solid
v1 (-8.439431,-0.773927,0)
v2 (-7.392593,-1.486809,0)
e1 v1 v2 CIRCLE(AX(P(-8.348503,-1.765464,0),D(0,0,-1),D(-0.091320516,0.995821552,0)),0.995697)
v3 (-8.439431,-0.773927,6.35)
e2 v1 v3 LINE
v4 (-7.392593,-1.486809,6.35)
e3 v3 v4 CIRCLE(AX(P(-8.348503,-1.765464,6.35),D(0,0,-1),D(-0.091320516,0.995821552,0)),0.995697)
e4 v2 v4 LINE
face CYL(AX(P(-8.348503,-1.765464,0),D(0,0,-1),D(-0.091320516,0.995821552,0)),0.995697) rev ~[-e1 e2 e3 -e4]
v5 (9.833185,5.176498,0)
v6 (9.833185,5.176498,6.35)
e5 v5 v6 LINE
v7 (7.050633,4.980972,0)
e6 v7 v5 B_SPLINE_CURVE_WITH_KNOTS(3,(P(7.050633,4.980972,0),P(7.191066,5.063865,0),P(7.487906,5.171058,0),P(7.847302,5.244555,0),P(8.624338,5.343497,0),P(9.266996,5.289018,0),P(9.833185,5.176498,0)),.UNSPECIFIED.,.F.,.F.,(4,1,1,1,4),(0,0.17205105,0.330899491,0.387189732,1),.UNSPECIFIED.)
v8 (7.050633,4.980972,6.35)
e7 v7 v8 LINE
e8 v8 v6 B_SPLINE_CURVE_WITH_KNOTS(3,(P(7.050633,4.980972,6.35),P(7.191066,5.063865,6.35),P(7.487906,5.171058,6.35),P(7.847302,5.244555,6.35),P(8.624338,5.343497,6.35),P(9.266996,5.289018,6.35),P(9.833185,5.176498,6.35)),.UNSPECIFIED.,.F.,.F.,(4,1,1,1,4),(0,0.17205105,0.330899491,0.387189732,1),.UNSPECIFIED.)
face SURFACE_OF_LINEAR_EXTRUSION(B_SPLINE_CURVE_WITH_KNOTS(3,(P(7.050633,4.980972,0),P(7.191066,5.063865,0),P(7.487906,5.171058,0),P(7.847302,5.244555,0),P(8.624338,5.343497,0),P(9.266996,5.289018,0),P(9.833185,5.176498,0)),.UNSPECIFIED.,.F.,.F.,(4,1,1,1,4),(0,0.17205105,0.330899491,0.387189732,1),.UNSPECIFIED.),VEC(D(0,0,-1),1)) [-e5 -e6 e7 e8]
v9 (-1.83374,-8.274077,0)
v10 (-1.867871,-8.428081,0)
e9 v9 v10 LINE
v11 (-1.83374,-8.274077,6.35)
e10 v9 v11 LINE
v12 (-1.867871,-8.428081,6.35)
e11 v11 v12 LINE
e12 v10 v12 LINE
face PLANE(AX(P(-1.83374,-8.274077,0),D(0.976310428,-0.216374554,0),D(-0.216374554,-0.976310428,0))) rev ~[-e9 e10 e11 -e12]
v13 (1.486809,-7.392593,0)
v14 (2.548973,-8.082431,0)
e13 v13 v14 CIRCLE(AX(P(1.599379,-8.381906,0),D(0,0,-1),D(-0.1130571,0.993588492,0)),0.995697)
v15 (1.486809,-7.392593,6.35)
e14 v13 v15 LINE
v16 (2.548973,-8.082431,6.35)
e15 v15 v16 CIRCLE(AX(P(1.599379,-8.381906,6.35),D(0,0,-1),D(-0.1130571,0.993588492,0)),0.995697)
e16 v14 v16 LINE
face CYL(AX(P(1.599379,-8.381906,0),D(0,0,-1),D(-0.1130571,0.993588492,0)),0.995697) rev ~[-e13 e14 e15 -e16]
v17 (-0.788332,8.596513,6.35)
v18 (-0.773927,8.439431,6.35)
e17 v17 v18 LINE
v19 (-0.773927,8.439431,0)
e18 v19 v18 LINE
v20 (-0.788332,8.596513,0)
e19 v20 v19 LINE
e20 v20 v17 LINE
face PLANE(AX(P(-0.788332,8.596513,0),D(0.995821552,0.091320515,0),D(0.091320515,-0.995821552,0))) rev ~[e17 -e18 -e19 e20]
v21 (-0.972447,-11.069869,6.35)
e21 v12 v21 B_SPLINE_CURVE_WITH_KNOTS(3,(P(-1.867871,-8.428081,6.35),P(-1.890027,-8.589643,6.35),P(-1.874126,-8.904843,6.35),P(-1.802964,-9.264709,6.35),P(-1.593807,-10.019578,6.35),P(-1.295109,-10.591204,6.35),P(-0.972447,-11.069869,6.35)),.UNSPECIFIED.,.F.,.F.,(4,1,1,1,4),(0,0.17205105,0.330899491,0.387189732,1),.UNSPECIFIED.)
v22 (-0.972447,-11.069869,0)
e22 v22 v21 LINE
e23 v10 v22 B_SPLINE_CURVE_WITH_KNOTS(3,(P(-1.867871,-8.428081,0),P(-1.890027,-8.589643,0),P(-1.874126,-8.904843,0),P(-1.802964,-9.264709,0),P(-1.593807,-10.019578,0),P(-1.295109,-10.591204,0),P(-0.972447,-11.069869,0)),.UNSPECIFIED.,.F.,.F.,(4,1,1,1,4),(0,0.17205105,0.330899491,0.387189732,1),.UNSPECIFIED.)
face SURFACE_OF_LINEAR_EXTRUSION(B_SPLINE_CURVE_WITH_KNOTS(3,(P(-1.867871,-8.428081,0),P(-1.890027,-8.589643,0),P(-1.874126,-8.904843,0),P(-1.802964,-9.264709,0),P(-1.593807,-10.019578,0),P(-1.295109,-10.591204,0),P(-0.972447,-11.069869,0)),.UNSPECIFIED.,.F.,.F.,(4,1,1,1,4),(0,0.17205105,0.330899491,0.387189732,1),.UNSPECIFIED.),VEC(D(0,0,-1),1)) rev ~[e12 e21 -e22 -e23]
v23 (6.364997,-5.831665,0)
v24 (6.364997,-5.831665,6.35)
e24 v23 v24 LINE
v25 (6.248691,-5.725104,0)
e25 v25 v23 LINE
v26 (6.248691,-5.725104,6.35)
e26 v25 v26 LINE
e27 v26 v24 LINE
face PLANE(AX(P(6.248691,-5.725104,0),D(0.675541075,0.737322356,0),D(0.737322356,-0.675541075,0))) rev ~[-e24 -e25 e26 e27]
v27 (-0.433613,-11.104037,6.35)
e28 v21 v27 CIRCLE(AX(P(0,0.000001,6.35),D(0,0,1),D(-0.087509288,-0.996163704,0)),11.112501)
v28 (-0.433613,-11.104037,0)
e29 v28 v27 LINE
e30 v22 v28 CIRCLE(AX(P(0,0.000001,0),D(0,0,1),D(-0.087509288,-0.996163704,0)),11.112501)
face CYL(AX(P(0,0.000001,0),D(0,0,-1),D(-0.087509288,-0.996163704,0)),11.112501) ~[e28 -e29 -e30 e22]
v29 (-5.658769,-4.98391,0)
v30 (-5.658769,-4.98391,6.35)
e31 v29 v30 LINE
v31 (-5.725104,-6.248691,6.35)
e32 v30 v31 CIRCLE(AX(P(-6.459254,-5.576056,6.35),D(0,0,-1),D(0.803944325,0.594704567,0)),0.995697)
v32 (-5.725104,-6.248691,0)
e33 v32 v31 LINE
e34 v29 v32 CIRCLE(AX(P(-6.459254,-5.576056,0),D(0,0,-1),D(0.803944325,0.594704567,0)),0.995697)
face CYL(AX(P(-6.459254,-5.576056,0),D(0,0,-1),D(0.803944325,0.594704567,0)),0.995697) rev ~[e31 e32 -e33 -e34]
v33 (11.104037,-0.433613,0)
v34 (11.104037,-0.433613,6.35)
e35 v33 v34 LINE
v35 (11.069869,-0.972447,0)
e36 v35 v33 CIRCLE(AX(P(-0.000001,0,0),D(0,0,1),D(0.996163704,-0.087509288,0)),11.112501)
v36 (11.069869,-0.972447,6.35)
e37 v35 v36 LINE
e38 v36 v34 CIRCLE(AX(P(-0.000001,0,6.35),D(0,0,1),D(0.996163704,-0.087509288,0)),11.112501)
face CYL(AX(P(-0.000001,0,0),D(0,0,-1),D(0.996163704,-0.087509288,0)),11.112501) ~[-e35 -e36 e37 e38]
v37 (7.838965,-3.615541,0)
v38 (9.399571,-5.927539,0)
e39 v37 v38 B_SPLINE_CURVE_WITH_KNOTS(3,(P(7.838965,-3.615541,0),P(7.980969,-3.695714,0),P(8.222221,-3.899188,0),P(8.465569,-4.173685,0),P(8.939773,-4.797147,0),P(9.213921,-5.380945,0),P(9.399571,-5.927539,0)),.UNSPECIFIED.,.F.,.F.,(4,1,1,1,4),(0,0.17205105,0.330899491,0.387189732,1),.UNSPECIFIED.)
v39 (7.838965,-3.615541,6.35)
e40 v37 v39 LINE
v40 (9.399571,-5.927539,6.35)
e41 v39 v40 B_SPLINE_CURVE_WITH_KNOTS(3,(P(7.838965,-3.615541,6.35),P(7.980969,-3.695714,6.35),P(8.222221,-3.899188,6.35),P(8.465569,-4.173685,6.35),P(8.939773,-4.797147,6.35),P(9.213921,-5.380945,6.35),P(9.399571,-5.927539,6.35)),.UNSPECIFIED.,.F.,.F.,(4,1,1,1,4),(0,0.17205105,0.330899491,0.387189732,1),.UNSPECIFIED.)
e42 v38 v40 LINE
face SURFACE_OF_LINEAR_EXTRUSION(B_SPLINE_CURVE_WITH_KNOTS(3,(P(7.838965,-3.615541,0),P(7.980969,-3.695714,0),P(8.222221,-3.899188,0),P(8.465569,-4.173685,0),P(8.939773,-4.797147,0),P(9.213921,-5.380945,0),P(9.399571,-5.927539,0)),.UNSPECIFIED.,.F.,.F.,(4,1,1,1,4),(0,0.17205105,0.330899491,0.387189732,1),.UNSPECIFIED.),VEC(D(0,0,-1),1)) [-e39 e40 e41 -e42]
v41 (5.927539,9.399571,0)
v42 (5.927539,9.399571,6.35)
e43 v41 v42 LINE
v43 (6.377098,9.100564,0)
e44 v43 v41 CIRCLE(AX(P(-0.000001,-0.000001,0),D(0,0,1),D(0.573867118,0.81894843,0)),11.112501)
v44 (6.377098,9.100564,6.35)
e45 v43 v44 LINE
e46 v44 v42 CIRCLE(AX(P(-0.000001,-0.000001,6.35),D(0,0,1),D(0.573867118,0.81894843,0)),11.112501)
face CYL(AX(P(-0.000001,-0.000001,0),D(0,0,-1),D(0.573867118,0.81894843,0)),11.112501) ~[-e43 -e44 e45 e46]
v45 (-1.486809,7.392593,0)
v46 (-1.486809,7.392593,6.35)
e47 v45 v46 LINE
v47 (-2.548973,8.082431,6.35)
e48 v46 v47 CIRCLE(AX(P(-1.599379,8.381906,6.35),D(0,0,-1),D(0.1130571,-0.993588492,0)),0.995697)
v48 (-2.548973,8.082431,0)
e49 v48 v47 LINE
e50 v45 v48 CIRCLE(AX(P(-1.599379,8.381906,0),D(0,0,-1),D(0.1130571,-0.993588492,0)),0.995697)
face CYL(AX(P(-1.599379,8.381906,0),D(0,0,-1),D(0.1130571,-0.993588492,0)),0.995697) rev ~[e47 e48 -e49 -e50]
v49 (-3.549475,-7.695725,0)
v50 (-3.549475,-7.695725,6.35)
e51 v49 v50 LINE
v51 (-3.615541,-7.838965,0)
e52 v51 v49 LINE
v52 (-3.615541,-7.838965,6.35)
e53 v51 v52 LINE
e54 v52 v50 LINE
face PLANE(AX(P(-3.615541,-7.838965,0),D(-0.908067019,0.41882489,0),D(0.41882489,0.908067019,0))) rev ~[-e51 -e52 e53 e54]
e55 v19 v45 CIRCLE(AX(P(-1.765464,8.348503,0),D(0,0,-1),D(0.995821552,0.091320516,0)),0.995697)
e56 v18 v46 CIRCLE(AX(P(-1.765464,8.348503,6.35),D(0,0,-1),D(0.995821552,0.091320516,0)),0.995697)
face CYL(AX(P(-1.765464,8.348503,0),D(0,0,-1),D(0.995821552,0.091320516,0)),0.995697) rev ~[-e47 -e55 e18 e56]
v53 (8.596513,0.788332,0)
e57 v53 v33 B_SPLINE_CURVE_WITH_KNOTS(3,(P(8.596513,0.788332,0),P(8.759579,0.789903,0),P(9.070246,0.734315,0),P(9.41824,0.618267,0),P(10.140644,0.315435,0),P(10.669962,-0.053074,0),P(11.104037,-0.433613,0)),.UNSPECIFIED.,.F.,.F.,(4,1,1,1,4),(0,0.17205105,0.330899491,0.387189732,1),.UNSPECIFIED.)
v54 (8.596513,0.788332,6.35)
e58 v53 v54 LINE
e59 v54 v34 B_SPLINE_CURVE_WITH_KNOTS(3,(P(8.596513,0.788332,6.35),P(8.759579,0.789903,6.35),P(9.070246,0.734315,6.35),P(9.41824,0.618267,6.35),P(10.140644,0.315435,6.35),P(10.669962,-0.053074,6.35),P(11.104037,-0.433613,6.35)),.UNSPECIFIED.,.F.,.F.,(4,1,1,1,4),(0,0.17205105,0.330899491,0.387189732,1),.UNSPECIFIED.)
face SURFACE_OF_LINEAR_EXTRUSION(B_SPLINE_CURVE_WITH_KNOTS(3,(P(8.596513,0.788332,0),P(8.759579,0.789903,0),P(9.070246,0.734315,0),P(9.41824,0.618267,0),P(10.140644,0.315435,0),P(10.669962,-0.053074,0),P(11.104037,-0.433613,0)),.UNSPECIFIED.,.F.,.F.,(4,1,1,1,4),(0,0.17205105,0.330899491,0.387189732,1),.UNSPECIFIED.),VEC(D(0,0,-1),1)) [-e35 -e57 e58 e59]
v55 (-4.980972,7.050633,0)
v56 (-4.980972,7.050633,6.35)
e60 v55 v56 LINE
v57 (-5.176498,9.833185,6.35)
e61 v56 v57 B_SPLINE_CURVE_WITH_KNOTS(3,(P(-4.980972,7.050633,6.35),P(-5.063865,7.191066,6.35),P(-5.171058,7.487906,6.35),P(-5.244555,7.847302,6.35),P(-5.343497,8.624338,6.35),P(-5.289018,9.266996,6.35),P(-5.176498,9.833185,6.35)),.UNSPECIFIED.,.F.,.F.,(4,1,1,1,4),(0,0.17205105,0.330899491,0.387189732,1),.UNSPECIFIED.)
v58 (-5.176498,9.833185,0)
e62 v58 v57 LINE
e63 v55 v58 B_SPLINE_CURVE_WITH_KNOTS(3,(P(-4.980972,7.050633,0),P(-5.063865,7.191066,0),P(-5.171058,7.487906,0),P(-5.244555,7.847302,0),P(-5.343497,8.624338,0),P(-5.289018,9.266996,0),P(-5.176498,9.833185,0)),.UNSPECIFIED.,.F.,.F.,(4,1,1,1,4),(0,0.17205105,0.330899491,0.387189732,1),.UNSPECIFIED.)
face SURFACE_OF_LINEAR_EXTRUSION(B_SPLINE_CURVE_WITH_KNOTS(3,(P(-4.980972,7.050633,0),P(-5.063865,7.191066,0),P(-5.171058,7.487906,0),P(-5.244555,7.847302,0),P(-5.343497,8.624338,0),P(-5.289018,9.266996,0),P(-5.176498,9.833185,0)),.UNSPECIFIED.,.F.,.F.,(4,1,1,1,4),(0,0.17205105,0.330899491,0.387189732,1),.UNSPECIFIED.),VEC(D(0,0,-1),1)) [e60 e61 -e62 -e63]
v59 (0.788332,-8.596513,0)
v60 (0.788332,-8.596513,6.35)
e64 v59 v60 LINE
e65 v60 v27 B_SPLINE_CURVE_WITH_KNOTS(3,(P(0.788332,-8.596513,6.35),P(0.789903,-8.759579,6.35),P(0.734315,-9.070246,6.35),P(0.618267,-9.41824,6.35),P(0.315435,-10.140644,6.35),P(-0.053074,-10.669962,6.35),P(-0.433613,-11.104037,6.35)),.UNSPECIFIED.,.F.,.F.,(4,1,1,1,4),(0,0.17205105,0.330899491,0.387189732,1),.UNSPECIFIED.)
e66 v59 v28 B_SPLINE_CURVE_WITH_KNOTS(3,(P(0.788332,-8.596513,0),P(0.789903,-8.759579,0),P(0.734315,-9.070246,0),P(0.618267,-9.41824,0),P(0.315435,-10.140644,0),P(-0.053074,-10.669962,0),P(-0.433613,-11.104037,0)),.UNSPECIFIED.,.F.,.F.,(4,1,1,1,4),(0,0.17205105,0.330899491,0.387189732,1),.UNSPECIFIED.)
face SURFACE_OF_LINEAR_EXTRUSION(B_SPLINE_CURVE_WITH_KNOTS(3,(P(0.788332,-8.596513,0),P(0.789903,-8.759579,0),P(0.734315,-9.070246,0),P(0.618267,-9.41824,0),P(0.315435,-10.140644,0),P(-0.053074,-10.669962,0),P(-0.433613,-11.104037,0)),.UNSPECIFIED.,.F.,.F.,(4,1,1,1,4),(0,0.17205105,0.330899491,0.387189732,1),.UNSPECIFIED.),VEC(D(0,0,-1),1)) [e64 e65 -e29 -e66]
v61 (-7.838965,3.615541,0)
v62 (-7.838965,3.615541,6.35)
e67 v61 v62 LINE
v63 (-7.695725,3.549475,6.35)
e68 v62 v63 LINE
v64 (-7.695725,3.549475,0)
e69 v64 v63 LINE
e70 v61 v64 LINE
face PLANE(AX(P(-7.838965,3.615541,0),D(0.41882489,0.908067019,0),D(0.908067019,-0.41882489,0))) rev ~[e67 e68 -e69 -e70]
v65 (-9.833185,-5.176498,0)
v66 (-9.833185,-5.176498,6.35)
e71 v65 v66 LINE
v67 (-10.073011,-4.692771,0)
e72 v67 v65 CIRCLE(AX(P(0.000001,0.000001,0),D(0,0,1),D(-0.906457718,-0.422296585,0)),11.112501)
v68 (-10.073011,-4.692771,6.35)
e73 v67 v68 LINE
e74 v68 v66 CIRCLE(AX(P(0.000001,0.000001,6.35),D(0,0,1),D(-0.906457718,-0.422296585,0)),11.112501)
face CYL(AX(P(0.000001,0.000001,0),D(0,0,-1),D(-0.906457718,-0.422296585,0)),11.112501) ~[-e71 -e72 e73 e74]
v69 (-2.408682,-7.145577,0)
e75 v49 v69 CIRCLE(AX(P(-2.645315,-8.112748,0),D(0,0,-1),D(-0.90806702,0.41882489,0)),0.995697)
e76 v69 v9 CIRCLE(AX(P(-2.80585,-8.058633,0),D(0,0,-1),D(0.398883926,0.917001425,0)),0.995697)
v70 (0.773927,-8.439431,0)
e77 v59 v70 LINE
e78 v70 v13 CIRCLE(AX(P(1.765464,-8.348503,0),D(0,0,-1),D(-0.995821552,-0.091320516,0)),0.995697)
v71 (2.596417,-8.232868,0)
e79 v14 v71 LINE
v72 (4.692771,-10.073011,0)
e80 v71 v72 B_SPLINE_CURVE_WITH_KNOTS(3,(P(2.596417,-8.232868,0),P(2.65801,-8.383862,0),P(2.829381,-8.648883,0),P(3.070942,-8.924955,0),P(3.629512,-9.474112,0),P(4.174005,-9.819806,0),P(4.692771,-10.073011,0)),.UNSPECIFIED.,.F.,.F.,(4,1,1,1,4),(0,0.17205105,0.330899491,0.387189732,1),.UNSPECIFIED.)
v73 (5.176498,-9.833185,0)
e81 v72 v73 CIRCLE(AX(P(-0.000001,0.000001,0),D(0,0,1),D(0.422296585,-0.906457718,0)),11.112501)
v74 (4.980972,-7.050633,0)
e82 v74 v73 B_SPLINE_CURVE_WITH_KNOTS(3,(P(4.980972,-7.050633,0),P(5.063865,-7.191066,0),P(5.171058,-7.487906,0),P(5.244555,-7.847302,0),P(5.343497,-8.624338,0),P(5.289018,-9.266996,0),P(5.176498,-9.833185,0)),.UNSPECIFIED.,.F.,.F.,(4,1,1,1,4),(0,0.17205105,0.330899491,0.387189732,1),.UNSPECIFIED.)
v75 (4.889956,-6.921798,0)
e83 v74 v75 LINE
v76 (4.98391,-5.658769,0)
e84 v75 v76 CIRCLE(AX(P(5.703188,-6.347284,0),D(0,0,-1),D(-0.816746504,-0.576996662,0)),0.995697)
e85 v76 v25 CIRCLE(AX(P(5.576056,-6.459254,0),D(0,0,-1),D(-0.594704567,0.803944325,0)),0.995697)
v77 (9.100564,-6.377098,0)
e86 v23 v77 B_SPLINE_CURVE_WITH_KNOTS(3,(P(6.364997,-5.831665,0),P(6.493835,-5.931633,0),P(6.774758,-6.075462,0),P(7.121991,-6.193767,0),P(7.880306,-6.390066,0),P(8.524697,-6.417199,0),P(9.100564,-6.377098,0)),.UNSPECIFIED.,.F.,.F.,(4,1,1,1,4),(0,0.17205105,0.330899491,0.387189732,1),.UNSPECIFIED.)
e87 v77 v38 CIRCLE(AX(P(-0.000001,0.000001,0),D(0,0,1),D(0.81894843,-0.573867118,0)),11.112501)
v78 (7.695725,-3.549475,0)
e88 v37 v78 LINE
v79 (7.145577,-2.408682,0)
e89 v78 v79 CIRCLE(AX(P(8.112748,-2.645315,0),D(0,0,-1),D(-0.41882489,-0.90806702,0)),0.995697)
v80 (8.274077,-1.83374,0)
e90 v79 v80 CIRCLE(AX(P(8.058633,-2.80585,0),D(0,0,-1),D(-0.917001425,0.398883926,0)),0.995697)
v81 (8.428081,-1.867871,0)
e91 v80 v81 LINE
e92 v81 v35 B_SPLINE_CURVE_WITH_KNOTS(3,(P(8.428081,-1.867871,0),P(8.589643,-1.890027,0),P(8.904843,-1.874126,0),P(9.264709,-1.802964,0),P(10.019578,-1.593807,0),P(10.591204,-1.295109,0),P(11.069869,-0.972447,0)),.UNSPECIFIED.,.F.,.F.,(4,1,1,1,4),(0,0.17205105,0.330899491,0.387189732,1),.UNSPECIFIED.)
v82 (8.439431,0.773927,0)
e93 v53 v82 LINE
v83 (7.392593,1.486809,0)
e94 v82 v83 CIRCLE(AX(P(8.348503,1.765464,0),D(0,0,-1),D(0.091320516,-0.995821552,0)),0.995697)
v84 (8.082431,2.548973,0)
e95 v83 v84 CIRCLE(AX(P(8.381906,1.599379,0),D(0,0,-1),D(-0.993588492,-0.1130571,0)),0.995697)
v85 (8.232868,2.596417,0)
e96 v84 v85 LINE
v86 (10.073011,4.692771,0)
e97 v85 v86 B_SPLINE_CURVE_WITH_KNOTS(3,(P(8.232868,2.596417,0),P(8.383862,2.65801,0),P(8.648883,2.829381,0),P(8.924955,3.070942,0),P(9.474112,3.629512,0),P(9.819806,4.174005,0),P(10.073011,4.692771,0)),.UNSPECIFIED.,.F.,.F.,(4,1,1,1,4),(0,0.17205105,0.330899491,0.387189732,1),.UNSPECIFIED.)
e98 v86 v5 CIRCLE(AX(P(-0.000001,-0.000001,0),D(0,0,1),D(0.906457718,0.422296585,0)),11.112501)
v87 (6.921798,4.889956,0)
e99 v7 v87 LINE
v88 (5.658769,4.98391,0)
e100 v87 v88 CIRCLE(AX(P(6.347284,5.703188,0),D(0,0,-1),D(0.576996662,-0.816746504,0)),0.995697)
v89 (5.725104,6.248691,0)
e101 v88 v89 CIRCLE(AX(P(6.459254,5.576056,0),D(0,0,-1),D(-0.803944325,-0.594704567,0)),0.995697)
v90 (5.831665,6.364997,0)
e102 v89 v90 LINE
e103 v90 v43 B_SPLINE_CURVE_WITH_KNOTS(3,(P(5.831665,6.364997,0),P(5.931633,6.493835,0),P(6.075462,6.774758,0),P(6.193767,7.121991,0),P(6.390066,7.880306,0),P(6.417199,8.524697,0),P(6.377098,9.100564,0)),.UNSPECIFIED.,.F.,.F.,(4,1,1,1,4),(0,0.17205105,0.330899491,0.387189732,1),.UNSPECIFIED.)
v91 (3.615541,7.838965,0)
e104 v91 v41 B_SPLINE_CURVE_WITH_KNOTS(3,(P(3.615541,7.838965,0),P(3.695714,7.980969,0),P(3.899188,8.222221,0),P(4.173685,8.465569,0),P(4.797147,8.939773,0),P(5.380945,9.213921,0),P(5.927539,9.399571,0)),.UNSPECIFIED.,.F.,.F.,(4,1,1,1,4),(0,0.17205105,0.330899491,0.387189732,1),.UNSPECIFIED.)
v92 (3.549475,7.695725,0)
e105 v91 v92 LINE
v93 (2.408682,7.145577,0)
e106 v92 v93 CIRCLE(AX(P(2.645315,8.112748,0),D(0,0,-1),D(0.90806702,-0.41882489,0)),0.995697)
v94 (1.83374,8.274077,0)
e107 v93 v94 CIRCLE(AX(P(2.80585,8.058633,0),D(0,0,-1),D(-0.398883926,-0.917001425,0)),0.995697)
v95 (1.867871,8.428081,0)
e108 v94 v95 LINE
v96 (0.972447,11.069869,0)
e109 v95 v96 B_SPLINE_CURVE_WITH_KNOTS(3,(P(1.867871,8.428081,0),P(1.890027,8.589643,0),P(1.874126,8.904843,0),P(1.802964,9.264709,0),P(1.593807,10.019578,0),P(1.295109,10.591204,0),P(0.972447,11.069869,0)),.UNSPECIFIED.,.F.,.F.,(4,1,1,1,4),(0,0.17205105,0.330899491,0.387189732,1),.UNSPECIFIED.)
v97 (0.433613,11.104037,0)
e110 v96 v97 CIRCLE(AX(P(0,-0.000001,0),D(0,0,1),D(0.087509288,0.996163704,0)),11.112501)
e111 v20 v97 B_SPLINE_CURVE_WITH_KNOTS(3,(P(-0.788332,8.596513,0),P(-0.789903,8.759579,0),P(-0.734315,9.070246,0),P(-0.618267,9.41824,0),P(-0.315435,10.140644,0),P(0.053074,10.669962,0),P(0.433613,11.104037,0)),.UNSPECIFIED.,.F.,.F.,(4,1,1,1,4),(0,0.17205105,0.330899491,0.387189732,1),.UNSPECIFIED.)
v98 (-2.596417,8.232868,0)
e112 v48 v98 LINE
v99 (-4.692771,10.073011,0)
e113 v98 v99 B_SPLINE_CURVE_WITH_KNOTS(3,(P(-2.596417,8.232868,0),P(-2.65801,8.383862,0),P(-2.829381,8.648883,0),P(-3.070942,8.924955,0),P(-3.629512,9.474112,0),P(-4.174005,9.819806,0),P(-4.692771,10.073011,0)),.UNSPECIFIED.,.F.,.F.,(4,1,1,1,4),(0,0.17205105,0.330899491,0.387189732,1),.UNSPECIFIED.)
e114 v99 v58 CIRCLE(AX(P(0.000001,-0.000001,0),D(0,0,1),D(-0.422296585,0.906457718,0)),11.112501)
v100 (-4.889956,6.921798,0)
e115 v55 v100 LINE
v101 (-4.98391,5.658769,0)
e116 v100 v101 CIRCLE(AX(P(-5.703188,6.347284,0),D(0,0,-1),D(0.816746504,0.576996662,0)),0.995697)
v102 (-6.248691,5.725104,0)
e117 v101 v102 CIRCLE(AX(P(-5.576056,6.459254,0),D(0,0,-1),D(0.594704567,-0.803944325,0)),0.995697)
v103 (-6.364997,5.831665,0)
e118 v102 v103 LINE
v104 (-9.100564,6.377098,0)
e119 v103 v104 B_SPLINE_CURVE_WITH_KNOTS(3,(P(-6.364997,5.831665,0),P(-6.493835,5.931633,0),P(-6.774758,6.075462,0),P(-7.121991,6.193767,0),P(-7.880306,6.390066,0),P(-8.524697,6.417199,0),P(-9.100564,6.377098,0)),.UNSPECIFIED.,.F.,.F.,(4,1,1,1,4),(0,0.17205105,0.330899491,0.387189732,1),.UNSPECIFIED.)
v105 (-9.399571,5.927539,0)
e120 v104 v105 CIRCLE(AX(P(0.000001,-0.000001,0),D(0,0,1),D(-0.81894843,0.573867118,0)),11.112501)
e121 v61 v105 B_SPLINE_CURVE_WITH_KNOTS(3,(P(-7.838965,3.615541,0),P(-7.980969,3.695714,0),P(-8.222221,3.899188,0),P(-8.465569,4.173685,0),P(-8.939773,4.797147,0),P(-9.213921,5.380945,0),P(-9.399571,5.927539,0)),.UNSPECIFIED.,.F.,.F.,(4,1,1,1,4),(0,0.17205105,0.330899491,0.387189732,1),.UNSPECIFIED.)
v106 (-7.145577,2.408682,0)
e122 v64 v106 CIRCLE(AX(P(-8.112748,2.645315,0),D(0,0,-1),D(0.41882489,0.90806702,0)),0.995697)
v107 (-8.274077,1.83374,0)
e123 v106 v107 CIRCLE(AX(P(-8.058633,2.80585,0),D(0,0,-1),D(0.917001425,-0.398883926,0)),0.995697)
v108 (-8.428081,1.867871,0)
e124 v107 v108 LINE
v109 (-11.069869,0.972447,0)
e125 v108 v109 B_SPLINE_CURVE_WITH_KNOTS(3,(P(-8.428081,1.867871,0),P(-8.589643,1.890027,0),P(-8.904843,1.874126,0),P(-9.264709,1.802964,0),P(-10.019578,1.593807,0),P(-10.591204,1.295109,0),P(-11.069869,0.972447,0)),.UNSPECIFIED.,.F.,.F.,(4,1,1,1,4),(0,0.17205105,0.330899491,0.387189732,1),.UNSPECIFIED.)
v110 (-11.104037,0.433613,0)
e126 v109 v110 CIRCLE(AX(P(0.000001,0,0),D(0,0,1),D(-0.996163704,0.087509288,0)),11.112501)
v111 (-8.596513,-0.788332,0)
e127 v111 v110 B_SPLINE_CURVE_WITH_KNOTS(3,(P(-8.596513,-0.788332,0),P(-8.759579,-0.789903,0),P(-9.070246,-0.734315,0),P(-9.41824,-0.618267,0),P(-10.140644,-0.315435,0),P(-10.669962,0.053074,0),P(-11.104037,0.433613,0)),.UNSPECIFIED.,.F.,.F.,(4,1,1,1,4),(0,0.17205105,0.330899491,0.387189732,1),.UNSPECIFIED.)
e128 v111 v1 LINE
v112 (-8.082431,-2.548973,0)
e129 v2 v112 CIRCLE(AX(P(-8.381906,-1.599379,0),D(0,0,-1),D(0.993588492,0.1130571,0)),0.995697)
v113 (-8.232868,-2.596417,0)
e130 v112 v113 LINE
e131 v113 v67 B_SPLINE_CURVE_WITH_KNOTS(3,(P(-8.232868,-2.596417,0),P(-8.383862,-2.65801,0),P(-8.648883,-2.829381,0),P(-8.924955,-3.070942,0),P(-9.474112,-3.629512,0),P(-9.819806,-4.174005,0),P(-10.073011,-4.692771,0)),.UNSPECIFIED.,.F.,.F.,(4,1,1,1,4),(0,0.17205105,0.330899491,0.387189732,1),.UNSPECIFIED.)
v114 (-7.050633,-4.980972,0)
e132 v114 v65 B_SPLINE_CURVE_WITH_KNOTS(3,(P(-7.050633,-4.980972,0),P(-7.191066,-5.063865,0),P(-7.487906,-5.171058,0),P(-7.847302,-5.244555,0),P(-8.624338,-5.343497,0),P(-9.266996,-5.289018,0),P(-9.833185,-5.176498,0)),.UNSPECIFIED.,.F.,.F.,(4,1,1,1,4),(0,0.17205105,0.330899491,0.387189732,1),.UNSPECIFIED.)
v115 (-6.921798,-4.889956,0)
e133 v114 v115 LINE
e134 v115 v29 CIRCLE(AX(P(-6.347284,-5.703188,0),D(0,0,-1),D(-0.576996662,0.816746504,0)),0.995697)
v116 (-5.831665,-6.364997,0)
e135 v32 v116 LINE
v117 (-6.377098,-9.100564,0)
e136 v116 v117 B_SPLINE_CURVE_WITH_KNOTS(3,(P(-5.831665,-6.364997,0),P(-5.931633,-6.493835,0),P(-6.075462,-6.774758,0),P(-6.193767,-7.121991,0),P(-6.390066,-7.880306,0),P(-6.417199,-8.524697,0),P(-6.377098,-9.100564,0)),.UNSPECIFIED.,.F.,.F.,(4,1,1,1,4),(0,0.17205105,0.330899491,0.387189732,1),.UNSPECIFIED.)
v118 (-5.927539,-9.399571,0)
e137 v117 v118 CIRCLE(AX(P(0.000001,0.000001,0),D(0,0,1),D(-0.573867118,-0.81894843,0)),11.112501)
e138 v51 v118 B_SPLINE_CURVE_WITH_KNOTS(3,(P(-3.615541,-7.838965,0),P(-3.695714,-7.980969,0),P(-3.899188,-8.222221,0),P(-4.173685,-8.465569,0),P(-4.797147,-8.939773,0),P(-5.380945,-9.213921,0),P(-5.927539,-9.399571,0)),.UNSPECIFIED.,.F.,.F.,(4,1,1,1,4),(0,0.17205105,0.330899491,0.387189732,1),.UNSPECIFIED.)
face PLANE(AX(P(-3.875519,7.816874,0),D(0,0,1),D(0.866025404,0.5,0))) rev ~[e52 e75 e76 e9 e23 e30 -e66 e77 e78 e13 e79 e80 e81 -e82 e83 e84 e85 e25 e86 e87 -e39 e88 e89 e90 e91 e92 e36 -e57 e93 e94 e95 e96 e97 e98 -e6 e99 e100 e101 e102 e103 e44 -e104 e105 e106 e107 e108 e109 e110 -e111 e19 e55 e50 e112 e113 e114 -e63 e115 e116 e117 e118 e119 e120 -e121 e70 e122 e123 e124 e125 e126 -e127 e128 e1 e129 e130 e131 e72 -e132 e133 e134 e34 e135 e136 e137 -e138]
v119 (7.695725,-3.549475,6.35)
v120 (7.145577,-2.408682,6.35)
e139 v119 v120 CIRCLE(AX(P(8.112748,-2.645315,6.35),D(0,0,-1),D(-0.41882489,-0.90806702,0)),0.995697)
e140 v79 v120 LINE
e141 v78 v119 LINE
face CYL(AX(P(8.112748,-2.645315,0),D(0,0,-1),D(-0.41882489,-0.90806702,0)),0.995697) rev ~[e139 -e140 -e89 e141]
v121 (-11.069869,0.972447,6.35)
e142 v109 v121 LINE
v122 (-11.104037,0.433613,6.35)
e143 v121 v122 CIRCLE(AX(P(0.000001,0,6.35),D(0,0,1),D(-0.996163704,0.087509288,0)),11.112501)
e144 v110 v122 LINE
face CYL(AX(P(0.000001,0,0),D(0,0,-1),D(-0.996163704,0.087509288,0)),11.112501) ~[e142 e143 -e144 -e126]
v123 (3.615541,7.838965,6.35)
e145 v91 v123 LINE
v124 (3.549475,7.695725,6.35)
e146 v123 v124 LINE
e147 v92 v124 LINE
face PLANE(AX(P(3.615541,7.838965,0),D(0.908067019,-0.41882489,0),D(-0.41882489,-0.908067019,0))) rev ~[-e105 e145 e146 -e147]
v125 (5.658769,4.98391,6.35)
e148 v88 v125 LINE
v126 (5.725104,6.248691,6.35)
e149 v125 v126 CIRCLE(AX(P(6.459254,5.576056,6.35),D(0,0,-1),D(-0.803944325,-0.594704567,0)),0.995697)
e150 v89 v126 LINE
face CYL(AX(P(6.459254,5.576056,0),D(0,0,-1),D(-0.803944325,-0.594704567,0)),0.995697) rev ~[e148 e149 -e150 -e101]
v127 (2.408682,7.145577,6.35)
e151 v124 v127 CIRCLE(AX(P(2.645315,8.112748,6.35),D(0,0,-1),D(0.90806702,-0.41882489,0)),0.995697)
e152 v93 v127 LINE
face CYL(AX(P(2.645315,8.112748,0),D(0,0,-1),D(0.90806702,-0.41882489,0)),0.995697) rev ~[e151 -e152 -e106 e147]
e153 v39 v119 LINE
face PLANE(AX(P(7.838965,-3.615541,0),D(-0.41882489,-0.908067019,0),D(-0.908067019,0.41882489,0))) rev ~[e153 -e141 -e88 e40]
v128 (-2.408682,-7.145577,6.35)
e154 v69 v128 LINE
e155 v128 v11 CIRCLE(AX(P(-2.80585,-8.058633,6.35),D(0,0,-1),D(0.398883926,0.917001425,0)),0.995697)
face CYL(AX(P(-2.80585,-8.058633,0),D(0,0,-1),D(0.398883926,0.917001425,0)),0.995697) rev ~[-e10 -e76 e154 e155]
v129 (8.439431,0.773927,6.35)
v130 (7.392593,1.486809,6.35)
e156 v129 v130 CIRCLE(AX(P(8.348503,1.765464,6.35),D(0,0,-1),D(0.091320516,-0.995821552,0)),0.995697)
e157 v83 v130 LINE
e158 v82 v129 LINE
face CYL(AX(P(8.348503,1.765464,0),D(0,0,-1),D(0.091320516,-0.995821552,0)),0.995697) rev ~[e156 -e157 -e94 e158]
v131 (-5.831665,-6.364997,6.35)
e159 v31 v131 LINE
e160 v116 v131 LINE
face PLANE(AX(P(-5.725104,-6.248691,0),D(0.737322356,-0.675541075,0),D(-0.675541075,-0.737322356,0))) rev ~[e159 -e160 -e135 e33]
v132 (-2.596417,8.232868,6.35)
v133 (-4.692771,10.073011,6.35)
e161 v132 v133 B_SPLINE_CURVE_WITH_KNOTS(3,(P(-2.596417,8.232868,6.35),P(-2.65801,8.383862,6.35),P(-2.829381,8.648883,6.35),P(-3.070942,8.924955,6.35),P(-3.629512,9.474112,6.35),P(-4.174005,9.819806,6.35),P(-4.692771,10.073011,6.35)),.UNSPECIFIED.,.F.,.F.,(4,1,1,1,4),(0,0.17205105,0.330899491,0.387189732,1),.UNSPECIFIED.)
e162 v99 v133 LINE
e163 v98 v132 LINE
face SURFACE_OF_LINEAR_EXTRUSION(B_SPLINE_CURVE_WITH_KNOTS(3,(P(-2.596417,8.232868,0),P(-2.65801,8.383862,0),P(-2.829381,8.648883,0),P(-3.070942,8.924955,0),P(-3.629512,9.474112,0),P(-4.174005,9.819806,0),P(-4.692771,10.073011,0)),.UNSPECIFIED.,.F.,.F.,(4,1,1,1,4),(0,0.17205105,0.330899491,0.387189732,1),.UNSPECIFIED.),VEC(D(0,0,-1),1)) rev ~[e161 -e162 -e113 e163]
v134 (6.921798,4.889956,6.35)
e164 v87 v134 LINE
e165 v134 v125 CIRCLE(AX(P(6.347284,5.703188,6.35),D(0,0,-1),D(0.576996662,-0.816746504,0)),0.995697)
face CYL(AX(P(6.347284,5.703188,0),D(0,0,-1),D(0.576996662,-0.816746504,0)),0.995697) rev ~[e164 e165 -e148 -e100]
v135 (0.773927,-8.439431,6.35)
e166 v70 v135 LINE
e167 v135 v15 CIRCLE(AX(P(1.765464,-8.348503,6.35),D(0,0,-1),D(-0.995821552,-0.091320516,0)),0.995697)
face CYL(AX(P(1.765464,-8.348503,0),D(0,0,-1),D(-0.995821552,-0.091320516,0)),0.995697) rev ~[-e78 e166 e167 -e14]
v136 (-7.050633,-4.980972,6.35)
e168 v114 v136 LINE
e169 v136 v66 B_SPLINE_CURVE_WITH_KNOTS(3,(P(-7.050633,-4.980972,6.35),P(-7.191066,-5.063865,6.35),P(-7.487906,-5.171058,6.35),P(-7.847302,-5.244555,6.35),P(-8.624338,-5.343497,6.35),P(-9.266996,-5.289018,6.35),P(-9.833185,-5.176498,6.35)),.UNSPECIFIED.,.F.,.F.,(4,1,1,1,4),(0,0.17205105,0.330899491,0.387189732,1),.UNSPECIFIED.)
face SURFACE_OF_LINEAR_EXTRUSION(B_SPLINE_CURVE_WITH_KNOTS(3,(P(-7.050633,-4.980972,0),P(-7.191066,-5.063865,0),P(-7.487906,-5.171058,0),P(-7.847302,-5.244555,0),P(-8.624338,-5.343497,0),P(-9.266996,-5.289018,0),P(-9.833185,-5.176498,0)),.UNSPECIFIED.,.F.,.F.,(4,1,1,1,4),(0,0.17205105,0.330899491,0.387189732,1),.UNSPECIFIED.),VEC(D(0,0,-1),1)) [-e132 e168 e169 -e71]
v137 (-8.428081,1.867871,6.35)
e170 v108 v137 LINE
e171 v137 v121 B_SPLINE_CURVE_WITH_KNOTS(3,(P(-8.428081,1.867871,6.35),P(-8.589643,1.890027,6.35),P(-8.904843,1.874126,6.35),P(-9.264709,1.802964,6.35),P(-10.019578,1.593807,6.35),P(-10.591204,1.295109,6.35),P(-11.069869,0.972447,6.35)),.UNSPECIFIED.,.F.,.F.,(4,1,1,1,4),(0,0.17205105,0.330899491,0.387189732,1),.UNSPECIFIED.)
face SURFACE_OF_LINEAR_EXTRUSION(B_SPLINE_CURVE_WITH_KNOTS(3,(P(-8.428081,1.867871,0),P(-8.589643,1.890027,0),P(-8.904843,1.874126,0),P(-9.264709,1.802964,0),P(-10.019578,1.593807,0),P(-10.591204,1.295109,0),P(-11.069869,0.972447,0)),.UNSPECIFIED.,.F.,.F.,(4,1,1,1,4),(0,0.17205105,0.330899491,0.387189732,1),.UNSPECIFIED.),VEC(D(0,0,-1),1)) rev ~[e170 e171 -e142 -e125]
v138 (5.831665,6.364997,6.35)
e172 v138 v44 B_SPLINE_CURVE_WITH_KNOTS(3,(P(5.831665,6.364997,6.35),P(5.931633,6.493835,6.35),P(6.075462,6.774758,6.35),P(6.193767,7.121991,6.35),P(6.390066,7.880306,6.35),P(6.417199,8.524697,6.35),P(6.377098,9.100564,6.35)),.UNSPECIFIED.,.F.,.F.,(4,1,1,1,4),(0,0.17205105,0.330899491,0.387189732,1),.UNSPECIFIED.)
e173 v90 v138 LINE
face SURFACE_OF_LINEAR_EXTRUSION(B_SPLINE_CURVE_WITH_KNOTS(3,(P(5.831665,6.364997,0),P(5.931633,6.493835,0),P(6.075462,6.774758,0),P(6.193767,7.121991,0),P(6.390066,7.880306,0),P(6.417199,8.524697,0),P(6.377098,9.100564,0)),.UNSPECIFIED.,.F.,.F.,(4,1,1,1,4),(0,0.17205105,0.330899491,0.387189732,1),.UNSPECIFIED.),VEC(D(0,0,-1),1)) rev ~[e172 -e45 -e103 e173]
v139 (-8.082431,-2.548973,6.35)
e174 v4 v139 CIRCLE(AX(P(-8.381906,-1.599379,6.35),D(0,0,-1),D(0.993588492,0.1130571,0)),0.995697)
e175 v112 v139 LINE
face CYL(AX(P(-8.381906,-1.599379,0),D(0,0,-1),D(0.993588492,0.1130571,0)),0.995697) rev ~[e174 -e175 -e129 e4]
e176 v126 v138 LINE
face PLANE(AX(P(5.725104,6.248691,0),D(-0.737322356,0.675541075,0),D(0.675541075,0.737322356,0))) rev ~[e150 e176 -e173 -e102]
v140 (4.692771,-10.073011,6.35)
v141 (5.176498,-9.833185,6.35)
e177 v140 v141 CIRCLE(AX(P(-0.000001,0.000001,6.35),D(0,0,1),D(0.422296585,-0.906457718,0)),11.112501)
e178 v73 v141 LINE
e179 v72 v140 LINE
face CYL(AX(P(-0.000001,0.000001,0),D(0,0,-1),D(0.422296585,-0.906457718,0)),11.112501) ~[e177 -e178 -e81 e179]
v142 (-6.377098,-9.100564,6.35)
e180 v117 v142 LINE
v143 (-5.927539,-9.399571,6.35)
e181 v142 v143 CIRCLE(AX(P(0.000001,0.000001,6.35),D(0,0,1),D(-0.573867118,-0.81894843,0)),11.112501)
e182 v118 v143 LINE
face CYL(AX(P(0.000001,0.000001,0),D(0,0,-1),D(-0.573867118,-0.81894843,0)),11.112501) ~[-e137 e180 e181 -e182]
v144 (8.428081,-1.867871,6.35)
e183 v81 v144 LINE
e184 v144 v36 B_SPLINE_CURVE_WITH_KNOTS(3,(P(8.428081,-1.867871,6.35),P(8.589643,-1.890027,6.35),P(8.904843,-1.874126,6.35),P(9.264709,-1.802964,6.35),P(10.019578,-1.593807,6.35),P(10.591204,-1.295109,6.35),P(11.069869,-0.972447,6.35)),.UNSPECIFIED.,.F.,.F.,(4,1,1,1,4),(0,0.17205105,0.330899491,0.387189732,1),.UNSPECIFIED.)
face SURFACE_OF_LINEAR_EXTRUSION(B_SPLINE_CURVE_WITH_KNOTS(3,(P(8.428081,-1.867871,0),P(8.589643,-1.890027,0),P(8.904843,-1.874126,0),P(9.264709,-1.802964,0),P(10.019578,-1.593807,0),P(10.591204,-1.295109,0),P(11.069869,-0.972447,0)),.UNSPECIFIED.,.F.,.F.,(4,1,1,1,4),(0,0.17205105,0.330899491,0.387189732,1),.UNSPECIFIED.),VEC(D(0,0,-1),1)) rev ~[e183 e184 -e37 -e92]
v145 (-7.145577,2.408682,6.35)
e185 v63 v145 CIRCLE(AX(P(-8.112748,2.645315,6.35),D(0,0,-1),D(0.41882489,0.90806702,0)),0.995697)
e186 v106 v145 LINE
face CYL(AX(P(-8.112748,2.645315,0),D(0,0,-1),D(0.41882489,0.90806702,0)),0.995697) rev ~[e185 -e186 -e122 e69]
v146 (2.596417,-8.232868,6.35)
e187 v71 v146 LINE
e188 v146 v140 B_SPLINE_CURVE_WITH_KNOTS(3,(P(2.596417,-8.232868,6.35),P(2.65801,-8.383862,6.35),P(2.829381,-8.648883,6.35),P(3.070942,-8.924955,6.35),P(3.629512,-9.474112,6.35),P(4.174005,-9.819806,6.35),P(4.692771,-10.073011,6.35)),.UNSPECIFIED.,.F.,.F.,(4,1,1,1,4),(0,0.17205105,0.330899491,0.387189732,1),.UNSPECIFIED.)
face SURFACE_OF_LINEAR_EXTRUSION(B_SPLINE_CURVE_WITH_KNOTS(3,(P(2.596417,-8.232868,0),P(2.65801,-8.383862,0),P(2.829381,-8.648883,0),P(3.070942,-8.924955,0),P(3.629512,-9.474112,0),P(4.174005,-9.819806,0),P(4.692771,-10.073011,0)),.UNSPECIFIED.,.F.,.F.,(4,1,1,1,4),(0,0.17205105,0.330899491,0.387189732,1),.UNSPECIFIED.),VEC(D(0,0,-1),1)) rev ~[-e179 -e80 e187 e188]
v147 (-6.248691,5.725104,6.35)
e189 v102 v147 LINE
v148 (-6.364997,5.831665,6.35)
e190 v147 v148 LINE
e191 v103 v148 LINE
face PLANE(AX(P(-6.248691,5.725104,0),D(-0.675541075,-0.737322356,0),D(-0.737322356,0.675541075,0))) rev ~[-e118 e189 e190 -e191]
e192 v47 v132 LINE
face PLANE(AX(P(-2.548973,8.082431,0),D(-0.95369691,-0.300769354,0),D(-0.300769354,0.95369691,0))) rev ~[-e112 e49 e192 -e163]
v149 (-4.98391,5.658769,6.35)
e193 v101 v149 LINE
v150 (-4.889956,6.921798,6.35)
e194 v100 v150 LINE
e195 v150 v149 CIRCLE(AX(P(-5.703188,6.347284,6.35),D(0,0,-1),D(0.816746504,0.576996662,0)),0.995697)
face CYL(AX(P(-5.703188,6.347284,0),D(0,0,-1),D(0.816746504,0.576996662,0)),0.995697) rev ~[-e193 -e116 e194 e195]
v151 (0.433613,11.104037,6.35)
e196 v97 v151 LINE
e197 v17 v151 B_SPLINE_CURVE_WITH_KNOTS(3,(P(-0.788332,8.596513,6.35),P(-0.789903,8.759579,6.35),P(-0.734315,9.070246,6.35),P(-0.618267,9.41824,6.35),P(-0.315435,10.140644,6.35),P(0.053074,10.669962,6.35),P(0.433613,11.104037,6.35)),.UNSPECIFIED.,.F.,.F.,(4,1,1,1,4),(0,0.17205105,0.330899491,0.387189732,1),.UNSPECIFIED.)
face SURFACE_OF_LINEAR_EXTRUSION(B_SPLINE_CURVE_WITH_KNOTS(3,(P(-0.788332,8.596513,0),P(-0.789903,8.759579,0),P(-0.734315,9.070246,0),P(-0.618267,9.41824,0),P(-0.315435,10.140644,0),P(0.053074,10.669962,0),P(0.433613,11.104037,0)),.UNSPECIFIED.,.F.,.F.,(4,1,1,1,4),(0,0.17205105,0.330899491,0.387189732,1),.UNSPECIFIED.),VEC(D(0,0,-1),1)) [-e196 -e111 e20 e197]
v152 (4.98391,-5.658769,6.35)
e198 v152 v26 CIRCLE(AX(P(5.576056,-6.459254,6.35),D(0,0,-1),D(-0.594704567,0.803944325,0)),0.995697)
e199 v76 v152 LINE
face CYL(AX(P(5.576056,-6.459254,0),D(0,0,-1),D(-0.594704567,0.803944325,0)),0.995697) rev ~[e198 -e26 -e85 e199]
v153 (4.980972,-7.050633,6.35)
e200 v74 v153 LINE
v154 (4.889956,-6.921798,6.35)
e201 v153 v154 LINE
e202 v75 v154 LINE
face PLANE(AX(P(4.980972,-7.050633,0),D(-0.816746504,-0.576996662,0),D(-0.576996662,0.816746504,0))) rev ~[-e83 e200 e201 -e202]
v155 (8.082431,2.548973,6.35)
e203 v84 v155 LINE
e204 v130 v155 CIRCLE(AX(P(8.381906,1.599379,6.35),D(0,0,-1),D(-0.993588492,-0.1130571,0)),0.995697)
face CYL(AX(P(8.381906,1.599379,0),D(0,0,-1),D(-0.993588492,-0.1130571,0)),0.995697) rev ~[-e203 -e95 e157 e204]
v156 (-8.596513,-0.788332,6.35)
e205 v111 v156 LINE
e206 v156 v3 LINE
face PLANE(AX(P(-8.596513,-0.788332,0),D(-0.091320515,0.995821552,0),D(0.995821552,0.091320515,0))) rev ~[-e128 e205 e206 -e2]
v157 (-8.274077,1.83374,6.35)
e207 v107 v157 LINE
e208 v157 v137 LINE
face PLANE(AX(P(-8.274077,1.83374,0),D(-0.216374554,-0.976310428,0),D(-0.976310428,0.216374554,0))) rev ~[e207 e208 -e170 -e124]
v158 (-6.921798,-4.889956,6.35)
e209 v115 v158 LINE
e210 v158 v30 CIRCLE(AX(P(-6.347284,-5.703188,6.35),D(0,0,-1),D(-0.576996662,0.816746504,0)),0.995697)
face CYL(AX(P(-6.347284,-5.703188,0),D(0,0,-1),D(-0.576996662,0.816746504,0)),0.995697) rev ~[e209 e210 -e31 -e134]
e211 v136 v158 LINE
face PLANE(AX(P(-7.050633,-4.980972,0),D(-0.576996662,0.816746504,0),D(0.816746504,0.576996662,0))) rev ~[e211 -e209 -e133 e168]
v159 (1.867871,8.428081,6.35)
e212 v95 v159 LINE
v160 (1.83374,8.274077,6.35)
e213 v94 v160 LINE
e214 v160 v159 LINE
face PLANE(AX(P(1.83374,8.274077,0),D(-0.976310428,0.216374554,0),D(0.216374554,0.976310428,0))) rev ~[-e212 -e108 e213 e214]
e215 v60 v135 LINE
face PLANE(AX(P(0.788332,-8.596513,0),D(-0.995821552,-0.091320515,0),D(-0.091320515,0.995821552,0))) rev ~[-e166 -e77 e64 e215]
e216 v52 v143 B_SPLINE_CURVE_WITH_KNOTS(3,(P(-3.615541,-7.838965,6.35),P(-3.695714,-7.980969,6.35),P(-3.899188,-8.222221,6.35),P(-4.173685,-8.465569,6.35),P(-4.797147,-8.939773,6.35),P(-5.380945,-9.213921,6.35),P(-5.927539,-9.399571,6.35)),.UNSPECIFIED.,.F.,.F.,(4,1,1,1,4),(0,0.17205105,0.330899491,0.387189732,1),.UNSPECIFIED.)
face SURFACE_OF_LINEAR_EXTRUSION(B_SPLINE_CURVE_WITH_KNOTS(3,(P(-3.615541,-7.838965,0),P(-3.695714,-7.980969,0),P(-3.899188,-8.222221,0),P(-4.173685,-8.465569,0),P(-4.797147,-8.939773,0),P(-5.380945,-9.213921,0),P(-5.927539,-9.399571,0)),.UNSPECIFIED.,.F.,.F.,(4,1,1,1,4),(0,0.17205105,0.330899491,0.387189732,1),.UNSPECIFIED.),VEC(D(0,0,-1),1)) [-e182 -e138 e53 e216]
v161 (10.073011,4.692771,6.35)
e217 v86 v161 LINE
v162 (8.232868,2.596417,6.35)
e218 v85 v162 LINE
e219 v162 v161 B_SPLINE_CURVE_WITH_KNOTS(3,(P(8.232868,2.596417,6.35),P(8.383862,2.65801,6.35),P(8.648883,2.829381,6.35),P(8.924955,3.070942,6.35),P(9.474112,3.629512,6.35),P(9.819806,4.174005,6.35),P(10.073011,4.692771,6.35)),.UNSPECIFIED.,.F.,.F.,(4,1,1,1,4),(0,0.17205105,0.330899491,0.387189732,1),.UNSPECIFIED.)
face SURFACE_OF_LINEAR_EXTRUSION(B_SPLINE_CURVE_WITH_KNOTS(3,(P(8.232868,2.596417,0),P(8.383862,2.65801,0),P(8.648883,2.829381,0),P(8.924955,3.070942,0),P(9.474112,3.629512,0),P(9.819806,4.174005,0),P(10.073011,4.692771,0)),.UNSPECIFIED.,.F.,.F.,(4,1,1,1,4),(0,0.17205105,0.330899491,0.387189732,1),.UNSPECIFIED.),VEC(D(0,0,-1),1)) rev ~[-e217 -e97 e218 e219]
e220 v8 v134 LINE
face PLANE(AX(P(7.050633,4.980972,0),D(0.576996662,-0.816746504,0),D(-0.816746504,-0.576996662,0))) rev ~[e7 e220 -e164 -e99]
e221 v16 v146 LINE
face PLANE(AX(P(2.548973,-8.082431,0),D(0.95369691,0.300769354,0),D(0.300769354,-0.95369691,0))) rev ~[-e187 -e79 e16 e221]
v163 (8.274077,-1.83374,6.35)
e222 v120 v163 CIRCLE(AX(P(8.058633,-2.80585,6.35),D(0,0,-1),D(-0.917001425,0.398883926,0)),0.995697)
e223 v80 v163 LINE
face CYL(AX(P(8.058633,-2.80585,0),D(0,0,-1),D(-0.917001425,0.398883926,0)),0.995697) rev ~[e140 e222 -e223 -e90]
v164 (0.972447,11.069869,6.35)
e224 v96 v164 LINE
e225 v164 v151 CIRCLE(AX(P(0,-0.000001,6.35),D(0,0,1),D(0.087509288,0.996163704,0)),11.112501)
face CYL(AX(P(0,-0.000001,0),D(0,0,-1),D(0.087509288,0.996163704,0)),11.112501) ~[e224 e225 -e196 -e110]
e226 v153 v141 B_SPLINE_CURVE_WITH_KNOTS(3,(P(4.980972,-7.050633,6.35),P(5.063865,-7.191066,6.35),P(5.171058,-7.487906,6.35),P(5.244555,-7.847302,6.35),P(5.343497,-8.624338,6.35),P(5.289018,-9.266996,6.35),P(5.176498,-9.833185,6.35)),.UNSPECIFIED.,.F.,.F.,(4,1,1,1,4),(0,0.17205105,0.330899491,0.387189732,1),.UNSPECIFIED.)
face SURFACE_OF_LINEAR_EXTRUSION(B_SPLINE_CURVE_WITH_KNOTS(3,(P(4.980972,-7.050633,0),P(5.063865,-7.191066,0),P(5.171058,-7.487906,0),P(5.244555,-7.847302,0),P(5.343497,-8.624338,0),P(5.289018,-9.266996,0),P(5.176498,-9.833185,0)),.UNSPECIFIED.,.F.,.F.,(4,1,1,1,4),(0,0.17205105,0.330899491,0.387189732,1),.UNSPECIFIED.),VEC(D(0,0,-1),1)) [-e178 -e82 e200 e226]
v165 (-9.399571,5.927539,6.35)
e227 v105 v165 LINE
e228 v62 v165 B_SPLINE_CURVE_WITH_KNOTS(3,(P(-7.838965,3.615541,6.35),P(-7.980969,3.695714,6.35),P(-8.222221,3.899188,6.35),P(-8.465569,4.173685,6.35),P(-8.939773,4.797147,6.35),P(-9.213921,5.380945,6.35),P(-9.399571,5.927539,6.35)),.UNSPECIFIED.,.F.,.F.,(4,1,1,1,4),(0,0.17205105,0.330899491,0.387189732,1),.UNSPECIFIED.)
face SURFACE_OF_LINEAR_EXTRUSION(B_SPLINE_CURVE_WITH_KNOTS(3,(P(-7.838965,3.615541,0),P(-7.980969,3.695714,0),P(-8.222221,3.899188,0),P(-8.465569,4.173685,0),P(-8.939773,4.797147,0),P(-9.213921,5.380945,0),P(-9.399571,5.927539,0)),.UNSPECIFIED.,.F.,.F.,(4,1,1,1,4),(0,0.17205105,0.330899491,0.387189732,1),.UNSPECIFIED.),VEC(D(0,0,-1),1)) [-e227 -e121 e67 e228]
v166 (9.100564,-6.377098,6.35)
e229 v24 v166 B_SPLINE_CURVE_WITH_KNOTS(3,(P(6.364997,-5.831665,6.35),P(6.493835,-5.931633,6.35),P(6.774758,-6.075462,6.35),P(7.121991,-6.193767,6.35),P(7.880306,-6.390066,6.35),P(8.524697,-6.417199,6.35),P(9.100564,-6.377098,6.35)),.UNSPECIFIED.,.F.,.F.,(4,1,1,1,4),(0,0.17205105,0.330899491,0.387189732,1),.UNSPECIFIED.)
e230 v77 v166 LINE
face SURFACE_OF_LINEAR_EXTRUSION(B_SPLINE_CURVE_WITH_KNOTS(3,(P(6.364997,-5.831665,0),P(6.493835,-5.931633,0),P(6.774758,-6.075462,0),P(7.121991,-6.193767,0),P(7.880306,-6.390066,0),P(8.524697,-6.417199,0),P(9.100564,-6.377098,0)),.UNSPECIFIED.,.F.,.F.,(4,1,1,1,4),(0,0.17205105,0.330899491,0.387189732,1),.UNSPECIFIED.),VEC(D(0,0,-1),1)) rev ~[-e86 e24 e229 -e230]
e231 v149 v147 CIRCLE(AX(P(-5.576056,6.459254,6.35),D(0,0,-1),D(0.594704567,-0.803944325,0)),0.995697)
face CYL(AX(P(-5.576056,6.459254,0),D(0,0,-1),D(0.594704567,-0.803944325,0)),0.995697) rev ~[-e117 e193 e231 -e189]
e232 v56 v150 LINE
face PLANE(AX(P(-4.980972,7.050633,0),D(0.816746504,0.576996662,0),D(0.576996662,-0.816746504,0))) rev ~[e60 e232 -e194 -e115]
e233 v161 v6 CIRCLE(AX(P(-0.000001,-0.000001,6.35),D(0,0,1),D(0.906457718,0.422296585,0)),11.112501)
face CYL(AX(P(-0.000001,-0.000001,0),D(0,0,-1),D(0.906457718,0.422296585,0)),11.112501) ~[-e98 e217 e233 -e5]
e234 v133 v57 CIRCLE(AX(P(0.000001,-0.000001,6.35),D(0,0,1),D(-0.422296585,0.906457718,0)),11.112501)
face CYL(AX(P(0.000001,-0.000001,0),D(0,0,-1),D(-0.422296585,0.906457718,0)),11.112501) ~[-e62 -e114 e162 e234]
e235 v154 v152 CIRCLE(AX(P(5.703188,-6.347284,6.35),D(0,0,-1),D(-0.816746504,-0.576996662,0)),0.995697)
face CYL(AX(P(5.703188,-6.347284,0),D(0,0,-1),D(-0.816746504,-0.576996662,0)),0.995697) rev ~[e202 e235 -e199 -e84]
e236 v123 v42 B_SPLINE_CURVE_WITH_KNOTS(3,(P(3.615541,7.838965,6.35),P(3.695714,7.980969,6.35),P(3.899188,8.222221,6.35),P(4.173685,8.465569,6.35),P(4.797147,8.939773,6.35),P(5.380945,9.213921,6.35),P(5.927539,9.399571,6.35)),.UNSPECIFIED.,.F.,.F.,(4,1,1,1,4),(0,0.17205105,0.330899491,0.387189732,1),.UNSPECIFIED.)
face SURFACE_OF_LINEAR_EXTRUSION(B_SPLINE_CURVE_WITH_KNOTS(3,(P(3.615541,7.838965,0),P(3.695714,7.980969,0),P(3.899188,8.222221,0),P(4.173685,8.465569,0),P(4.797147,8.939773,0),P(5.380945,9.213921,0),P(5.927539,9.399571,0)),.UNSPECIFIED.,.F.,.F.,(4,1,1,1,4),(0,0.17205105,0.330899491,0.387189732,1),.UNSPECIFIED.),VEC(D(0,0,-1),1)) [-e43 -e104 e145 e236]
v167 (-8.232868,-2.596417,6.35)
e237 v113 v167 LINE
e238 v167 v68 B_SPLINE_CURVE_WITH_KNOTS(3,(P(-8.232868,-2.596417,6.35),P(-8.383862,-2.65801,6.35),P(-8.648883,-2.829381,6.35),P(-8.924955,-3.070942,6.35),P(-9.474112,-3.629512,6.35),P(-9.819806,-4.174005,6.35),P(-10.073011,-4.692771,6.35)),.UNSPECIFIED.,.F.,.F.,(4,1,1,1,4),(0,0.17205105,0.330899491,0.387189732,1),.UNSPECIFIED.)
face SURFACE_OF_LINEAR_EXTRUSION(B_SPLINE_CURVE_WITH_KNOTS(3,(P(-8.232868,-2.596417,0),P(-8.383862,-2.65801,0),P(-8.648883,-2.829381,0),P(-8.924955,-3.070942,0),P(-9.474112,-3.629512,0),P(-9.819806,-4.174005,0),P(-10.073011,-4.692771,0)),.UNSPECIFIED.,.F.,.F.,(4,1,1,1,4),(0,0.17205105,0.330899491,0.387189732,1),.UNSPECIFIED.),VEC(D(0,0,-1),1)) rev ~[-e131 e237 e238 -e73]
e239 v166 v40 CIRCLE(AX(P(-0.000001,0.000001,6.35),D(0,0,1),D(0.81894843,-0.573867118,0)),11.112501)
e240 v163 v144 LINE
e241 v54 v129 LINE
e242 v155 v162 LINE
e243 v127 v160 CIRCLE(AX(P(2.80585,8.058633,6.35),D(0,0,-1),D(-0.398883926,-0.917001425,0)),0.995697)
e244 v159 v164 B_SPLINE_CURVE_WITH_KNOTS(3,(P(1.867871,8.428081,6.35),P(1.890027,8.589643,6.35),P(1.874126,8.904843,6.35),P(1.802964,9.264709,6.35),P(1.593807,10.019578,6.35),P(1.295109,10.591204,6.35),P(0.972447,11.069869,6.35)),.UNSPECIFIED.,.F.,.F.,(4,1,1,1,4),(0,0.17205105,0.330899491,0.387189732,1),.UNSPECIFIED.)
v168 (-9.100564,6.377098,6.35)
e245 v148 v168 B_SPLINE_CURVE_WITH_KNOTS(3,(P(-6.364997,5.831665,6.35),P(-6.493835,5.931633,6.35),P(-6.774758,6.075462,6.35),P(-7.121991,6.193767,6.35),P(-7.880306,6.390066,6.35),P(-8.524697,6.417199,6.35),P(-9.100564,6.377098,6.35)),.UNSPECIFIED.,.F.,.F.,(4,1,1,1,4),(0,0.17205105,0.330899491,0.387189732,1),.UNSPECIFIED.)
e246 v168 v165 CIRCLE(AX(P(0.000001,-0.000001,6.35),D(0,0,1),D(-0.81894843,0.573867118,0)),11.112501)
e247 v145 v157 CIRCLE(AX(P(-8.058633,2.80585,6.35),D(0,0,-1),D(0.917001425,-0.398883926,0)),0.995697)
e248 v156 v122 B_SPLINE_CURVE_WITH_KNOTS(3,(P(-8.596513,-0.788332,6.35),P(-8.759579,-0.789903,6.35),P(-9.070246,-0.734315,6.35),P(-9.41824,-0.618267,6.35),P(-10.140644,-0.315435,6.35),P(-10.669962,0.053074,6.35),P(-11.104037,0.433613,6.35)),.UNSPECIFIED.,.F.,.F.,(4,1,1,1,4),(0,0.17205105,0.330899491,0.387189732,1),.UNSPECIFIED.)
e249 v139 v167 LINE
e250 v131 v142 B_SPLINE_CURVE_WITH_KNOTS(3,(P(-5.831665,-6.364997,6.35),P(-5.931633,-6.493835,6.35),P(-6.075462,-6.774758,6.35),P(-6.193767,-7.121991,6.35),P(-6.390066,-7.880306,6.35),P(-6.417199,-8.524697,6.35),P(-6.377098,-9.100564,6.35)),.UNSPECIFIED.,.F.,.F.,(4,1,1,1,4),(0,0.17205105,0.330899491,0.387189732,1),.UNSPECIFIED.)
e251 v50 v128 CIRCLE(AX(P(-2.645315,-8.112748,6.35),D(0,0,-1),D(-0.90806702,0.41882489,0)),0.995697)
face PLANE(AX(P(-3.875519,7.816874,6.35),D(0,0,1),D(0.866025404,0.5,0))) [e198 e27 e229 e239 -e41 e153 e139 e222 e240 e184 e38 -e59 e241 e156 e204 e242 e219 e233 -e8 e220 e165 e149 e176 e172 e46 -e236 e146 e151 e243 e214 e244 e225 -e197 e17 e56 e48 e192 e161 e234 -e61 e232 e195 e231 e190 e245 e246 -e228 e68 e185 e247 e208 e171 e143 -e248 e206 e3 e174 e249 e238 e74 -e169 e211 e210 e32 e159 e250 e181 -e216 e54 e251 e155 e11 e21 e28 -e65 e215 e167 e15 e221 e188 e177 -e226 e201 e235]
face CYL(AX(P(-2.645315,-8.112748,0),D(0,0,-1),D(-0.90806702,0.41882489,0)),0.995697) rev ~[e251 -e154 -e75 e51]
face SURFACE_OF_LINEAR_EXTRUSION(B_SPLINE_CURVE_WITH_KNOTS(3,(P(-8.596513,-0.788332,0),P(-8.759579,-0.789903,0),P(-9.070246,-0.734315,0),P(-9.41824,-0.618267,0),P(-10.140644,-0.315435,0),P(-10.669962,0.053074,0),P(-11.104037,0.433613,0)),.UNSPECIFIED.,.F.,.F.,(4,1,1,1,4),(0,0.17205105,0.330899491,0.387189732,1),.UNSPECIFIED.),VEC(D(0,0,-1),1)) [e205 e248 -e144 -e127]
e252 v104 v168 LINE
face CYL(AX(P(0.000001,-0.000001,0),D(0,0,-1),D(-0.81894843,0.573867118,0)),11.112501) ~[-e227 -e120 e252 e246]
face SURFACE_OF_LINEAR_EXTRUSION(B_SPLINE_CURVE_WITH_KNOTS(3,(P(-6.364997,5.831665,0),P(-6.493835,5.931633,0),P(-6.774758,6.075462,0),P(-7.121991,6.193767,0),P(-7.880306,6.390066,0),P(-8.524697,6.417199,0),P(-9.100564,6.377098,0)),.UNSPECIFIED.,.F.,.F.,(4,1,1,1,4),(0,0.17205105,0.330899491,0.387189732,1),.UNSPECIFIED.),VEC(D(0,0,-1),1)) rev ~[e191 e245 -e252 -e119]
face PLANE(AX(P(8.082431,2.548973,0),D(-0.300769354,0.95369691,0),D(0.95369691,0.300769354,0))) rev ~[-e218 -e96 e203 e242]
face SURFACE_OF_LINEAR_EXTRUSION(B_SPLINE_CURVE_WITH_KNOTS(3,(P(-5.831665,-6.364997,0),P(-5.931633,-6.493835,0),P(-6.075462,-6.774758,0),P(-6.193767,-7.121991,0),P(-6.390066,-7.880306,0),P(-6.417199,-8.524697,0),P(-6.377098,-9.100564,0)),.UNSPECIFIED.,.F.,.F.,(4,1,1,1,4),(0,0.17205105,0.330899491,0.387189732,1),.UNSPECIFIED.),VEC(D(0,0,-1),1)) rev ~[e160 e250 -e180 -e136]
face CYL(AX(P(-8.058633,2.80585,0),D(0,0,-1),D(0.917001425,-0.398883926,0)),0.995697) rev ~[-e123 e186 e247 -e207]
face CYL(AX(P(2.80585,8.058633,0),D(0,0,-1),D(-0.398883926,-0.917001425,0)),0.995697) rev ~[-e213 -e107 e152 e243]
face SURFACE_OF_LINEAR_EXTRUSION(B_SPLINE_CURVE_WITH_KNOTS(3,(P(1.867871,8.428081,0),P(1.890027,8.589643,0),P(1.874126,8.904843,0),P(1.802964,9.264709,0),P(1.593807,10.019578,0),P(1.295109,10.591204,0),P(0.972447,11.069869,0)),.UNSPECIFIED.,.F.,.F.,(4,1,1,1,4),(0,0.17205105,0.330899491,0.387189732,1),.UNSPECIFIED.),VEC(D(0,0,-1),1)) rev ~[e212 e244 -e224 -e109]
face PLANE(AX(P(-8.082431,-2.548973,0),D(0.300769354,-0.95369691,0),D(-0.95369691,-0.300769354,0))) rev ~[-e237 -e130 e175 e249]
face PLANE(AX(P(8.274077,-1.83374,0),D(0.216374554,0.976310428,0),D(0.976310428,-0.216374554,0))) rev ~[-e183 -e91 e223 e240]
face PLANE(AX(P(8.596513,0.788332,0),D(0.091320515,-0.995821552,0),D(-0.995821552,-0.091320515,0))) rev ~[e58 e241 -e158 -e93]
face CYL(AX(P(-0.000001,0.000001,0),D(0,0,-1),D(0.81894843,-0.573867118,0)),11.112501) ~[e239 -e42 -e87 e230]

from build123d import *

# Parameters (mm, degrees)
SKETCH1_R           = 7.540625
BOSS_EXTRUDE1_DEPTH = 6.35
BOSS_EXTRUDE2_START = -6.35
BOSS_EXTRUDE2_DEPTH = 6.35
CIRPATTERN1_COUNT   = 12


with BuildPart() as part:
    # Sketch1 → Boss-Extrude1 (new body)
    with BuildSketch(Plane.XY):
        Circle(SKETCH1_R)
    extrude(amount=BOSS_EXTRUDE1_DEPTH)

    # Sketch2 → Boss-Extrude2 (add)
    with BuildSketch(Plane.XY.offset(6.35).offset(BOSS_EXTRUDE2_START)):
        with BuildLine():
            ThreePointArc((2.408682376, 7.145577276), (1.918658971, 7.606631761), (1.833740268, 8.274076882))
            Line((1.833740268, 8.274076882), (1.867871498, 8.428081478))
            add(Edge.make_bspline(
                [(1.867871498, 8.428081478), (1.890027, 8.589642819), (1.874125743, 8.904843151), (1.802963997, 9.264708669), (1.59380668, 10.019577882), (1.295108843, 10.591204175), (0.97244699, 11.069869155)],
                knots=[0, 0, 0, 0, 0.17205105, 0.330899491, 0.387189732, 1, 1, 1, 1], degree=3))
            ThreePointArc((0.97244699, 11.069869155), (0.703237725, 11.09022601), (0.433613377, 11.10403691))
            add(Edge.make_bspline(
                [(-0.788332001, 8.596512897), (-0.789902704, 8.75957873), (-0.734314822, 9.070245894), (-0.61826726, 9.41824036), (-0.315435205, 10.140644028), (0.053074174, 10.669962321), (0.433613377, 11.10403691)],
                knots=[0, 0, 0, 0, 0.17205105, 0.330899491, 0.387189732, 1, 1, 1, 1], degree=3))
            Line((-0.788332001, 8.596512897), (-0.773926973, 8.439430589))
            ThreePointArc((-0.773926973, 8.439430589), (-0.942472693, 7.788057795), (-1.48680851, 7.392592633))
            ThreePointArc((-1.48680851, 7.392592633), (0.477197028, 7.525510507), (2.408682376, 7.145577276))
        make_face()
    boss_extrude2 = extrude(amount=BOSS_EXTRUDE2_DEPTH)

    # CirPattern1: Boss-Extrude2 ×12 about axis
    cirpattern1_axis = Axis((0, 0, 6.35), (0, 0, -1))
    for i in range(1, CIRPATTERN1_COUNT):
        add(boss_extrude2.rotate(cirpattern1_axis, i * 360 / CIRPATTERN1_COUNT))


solid = part.part
